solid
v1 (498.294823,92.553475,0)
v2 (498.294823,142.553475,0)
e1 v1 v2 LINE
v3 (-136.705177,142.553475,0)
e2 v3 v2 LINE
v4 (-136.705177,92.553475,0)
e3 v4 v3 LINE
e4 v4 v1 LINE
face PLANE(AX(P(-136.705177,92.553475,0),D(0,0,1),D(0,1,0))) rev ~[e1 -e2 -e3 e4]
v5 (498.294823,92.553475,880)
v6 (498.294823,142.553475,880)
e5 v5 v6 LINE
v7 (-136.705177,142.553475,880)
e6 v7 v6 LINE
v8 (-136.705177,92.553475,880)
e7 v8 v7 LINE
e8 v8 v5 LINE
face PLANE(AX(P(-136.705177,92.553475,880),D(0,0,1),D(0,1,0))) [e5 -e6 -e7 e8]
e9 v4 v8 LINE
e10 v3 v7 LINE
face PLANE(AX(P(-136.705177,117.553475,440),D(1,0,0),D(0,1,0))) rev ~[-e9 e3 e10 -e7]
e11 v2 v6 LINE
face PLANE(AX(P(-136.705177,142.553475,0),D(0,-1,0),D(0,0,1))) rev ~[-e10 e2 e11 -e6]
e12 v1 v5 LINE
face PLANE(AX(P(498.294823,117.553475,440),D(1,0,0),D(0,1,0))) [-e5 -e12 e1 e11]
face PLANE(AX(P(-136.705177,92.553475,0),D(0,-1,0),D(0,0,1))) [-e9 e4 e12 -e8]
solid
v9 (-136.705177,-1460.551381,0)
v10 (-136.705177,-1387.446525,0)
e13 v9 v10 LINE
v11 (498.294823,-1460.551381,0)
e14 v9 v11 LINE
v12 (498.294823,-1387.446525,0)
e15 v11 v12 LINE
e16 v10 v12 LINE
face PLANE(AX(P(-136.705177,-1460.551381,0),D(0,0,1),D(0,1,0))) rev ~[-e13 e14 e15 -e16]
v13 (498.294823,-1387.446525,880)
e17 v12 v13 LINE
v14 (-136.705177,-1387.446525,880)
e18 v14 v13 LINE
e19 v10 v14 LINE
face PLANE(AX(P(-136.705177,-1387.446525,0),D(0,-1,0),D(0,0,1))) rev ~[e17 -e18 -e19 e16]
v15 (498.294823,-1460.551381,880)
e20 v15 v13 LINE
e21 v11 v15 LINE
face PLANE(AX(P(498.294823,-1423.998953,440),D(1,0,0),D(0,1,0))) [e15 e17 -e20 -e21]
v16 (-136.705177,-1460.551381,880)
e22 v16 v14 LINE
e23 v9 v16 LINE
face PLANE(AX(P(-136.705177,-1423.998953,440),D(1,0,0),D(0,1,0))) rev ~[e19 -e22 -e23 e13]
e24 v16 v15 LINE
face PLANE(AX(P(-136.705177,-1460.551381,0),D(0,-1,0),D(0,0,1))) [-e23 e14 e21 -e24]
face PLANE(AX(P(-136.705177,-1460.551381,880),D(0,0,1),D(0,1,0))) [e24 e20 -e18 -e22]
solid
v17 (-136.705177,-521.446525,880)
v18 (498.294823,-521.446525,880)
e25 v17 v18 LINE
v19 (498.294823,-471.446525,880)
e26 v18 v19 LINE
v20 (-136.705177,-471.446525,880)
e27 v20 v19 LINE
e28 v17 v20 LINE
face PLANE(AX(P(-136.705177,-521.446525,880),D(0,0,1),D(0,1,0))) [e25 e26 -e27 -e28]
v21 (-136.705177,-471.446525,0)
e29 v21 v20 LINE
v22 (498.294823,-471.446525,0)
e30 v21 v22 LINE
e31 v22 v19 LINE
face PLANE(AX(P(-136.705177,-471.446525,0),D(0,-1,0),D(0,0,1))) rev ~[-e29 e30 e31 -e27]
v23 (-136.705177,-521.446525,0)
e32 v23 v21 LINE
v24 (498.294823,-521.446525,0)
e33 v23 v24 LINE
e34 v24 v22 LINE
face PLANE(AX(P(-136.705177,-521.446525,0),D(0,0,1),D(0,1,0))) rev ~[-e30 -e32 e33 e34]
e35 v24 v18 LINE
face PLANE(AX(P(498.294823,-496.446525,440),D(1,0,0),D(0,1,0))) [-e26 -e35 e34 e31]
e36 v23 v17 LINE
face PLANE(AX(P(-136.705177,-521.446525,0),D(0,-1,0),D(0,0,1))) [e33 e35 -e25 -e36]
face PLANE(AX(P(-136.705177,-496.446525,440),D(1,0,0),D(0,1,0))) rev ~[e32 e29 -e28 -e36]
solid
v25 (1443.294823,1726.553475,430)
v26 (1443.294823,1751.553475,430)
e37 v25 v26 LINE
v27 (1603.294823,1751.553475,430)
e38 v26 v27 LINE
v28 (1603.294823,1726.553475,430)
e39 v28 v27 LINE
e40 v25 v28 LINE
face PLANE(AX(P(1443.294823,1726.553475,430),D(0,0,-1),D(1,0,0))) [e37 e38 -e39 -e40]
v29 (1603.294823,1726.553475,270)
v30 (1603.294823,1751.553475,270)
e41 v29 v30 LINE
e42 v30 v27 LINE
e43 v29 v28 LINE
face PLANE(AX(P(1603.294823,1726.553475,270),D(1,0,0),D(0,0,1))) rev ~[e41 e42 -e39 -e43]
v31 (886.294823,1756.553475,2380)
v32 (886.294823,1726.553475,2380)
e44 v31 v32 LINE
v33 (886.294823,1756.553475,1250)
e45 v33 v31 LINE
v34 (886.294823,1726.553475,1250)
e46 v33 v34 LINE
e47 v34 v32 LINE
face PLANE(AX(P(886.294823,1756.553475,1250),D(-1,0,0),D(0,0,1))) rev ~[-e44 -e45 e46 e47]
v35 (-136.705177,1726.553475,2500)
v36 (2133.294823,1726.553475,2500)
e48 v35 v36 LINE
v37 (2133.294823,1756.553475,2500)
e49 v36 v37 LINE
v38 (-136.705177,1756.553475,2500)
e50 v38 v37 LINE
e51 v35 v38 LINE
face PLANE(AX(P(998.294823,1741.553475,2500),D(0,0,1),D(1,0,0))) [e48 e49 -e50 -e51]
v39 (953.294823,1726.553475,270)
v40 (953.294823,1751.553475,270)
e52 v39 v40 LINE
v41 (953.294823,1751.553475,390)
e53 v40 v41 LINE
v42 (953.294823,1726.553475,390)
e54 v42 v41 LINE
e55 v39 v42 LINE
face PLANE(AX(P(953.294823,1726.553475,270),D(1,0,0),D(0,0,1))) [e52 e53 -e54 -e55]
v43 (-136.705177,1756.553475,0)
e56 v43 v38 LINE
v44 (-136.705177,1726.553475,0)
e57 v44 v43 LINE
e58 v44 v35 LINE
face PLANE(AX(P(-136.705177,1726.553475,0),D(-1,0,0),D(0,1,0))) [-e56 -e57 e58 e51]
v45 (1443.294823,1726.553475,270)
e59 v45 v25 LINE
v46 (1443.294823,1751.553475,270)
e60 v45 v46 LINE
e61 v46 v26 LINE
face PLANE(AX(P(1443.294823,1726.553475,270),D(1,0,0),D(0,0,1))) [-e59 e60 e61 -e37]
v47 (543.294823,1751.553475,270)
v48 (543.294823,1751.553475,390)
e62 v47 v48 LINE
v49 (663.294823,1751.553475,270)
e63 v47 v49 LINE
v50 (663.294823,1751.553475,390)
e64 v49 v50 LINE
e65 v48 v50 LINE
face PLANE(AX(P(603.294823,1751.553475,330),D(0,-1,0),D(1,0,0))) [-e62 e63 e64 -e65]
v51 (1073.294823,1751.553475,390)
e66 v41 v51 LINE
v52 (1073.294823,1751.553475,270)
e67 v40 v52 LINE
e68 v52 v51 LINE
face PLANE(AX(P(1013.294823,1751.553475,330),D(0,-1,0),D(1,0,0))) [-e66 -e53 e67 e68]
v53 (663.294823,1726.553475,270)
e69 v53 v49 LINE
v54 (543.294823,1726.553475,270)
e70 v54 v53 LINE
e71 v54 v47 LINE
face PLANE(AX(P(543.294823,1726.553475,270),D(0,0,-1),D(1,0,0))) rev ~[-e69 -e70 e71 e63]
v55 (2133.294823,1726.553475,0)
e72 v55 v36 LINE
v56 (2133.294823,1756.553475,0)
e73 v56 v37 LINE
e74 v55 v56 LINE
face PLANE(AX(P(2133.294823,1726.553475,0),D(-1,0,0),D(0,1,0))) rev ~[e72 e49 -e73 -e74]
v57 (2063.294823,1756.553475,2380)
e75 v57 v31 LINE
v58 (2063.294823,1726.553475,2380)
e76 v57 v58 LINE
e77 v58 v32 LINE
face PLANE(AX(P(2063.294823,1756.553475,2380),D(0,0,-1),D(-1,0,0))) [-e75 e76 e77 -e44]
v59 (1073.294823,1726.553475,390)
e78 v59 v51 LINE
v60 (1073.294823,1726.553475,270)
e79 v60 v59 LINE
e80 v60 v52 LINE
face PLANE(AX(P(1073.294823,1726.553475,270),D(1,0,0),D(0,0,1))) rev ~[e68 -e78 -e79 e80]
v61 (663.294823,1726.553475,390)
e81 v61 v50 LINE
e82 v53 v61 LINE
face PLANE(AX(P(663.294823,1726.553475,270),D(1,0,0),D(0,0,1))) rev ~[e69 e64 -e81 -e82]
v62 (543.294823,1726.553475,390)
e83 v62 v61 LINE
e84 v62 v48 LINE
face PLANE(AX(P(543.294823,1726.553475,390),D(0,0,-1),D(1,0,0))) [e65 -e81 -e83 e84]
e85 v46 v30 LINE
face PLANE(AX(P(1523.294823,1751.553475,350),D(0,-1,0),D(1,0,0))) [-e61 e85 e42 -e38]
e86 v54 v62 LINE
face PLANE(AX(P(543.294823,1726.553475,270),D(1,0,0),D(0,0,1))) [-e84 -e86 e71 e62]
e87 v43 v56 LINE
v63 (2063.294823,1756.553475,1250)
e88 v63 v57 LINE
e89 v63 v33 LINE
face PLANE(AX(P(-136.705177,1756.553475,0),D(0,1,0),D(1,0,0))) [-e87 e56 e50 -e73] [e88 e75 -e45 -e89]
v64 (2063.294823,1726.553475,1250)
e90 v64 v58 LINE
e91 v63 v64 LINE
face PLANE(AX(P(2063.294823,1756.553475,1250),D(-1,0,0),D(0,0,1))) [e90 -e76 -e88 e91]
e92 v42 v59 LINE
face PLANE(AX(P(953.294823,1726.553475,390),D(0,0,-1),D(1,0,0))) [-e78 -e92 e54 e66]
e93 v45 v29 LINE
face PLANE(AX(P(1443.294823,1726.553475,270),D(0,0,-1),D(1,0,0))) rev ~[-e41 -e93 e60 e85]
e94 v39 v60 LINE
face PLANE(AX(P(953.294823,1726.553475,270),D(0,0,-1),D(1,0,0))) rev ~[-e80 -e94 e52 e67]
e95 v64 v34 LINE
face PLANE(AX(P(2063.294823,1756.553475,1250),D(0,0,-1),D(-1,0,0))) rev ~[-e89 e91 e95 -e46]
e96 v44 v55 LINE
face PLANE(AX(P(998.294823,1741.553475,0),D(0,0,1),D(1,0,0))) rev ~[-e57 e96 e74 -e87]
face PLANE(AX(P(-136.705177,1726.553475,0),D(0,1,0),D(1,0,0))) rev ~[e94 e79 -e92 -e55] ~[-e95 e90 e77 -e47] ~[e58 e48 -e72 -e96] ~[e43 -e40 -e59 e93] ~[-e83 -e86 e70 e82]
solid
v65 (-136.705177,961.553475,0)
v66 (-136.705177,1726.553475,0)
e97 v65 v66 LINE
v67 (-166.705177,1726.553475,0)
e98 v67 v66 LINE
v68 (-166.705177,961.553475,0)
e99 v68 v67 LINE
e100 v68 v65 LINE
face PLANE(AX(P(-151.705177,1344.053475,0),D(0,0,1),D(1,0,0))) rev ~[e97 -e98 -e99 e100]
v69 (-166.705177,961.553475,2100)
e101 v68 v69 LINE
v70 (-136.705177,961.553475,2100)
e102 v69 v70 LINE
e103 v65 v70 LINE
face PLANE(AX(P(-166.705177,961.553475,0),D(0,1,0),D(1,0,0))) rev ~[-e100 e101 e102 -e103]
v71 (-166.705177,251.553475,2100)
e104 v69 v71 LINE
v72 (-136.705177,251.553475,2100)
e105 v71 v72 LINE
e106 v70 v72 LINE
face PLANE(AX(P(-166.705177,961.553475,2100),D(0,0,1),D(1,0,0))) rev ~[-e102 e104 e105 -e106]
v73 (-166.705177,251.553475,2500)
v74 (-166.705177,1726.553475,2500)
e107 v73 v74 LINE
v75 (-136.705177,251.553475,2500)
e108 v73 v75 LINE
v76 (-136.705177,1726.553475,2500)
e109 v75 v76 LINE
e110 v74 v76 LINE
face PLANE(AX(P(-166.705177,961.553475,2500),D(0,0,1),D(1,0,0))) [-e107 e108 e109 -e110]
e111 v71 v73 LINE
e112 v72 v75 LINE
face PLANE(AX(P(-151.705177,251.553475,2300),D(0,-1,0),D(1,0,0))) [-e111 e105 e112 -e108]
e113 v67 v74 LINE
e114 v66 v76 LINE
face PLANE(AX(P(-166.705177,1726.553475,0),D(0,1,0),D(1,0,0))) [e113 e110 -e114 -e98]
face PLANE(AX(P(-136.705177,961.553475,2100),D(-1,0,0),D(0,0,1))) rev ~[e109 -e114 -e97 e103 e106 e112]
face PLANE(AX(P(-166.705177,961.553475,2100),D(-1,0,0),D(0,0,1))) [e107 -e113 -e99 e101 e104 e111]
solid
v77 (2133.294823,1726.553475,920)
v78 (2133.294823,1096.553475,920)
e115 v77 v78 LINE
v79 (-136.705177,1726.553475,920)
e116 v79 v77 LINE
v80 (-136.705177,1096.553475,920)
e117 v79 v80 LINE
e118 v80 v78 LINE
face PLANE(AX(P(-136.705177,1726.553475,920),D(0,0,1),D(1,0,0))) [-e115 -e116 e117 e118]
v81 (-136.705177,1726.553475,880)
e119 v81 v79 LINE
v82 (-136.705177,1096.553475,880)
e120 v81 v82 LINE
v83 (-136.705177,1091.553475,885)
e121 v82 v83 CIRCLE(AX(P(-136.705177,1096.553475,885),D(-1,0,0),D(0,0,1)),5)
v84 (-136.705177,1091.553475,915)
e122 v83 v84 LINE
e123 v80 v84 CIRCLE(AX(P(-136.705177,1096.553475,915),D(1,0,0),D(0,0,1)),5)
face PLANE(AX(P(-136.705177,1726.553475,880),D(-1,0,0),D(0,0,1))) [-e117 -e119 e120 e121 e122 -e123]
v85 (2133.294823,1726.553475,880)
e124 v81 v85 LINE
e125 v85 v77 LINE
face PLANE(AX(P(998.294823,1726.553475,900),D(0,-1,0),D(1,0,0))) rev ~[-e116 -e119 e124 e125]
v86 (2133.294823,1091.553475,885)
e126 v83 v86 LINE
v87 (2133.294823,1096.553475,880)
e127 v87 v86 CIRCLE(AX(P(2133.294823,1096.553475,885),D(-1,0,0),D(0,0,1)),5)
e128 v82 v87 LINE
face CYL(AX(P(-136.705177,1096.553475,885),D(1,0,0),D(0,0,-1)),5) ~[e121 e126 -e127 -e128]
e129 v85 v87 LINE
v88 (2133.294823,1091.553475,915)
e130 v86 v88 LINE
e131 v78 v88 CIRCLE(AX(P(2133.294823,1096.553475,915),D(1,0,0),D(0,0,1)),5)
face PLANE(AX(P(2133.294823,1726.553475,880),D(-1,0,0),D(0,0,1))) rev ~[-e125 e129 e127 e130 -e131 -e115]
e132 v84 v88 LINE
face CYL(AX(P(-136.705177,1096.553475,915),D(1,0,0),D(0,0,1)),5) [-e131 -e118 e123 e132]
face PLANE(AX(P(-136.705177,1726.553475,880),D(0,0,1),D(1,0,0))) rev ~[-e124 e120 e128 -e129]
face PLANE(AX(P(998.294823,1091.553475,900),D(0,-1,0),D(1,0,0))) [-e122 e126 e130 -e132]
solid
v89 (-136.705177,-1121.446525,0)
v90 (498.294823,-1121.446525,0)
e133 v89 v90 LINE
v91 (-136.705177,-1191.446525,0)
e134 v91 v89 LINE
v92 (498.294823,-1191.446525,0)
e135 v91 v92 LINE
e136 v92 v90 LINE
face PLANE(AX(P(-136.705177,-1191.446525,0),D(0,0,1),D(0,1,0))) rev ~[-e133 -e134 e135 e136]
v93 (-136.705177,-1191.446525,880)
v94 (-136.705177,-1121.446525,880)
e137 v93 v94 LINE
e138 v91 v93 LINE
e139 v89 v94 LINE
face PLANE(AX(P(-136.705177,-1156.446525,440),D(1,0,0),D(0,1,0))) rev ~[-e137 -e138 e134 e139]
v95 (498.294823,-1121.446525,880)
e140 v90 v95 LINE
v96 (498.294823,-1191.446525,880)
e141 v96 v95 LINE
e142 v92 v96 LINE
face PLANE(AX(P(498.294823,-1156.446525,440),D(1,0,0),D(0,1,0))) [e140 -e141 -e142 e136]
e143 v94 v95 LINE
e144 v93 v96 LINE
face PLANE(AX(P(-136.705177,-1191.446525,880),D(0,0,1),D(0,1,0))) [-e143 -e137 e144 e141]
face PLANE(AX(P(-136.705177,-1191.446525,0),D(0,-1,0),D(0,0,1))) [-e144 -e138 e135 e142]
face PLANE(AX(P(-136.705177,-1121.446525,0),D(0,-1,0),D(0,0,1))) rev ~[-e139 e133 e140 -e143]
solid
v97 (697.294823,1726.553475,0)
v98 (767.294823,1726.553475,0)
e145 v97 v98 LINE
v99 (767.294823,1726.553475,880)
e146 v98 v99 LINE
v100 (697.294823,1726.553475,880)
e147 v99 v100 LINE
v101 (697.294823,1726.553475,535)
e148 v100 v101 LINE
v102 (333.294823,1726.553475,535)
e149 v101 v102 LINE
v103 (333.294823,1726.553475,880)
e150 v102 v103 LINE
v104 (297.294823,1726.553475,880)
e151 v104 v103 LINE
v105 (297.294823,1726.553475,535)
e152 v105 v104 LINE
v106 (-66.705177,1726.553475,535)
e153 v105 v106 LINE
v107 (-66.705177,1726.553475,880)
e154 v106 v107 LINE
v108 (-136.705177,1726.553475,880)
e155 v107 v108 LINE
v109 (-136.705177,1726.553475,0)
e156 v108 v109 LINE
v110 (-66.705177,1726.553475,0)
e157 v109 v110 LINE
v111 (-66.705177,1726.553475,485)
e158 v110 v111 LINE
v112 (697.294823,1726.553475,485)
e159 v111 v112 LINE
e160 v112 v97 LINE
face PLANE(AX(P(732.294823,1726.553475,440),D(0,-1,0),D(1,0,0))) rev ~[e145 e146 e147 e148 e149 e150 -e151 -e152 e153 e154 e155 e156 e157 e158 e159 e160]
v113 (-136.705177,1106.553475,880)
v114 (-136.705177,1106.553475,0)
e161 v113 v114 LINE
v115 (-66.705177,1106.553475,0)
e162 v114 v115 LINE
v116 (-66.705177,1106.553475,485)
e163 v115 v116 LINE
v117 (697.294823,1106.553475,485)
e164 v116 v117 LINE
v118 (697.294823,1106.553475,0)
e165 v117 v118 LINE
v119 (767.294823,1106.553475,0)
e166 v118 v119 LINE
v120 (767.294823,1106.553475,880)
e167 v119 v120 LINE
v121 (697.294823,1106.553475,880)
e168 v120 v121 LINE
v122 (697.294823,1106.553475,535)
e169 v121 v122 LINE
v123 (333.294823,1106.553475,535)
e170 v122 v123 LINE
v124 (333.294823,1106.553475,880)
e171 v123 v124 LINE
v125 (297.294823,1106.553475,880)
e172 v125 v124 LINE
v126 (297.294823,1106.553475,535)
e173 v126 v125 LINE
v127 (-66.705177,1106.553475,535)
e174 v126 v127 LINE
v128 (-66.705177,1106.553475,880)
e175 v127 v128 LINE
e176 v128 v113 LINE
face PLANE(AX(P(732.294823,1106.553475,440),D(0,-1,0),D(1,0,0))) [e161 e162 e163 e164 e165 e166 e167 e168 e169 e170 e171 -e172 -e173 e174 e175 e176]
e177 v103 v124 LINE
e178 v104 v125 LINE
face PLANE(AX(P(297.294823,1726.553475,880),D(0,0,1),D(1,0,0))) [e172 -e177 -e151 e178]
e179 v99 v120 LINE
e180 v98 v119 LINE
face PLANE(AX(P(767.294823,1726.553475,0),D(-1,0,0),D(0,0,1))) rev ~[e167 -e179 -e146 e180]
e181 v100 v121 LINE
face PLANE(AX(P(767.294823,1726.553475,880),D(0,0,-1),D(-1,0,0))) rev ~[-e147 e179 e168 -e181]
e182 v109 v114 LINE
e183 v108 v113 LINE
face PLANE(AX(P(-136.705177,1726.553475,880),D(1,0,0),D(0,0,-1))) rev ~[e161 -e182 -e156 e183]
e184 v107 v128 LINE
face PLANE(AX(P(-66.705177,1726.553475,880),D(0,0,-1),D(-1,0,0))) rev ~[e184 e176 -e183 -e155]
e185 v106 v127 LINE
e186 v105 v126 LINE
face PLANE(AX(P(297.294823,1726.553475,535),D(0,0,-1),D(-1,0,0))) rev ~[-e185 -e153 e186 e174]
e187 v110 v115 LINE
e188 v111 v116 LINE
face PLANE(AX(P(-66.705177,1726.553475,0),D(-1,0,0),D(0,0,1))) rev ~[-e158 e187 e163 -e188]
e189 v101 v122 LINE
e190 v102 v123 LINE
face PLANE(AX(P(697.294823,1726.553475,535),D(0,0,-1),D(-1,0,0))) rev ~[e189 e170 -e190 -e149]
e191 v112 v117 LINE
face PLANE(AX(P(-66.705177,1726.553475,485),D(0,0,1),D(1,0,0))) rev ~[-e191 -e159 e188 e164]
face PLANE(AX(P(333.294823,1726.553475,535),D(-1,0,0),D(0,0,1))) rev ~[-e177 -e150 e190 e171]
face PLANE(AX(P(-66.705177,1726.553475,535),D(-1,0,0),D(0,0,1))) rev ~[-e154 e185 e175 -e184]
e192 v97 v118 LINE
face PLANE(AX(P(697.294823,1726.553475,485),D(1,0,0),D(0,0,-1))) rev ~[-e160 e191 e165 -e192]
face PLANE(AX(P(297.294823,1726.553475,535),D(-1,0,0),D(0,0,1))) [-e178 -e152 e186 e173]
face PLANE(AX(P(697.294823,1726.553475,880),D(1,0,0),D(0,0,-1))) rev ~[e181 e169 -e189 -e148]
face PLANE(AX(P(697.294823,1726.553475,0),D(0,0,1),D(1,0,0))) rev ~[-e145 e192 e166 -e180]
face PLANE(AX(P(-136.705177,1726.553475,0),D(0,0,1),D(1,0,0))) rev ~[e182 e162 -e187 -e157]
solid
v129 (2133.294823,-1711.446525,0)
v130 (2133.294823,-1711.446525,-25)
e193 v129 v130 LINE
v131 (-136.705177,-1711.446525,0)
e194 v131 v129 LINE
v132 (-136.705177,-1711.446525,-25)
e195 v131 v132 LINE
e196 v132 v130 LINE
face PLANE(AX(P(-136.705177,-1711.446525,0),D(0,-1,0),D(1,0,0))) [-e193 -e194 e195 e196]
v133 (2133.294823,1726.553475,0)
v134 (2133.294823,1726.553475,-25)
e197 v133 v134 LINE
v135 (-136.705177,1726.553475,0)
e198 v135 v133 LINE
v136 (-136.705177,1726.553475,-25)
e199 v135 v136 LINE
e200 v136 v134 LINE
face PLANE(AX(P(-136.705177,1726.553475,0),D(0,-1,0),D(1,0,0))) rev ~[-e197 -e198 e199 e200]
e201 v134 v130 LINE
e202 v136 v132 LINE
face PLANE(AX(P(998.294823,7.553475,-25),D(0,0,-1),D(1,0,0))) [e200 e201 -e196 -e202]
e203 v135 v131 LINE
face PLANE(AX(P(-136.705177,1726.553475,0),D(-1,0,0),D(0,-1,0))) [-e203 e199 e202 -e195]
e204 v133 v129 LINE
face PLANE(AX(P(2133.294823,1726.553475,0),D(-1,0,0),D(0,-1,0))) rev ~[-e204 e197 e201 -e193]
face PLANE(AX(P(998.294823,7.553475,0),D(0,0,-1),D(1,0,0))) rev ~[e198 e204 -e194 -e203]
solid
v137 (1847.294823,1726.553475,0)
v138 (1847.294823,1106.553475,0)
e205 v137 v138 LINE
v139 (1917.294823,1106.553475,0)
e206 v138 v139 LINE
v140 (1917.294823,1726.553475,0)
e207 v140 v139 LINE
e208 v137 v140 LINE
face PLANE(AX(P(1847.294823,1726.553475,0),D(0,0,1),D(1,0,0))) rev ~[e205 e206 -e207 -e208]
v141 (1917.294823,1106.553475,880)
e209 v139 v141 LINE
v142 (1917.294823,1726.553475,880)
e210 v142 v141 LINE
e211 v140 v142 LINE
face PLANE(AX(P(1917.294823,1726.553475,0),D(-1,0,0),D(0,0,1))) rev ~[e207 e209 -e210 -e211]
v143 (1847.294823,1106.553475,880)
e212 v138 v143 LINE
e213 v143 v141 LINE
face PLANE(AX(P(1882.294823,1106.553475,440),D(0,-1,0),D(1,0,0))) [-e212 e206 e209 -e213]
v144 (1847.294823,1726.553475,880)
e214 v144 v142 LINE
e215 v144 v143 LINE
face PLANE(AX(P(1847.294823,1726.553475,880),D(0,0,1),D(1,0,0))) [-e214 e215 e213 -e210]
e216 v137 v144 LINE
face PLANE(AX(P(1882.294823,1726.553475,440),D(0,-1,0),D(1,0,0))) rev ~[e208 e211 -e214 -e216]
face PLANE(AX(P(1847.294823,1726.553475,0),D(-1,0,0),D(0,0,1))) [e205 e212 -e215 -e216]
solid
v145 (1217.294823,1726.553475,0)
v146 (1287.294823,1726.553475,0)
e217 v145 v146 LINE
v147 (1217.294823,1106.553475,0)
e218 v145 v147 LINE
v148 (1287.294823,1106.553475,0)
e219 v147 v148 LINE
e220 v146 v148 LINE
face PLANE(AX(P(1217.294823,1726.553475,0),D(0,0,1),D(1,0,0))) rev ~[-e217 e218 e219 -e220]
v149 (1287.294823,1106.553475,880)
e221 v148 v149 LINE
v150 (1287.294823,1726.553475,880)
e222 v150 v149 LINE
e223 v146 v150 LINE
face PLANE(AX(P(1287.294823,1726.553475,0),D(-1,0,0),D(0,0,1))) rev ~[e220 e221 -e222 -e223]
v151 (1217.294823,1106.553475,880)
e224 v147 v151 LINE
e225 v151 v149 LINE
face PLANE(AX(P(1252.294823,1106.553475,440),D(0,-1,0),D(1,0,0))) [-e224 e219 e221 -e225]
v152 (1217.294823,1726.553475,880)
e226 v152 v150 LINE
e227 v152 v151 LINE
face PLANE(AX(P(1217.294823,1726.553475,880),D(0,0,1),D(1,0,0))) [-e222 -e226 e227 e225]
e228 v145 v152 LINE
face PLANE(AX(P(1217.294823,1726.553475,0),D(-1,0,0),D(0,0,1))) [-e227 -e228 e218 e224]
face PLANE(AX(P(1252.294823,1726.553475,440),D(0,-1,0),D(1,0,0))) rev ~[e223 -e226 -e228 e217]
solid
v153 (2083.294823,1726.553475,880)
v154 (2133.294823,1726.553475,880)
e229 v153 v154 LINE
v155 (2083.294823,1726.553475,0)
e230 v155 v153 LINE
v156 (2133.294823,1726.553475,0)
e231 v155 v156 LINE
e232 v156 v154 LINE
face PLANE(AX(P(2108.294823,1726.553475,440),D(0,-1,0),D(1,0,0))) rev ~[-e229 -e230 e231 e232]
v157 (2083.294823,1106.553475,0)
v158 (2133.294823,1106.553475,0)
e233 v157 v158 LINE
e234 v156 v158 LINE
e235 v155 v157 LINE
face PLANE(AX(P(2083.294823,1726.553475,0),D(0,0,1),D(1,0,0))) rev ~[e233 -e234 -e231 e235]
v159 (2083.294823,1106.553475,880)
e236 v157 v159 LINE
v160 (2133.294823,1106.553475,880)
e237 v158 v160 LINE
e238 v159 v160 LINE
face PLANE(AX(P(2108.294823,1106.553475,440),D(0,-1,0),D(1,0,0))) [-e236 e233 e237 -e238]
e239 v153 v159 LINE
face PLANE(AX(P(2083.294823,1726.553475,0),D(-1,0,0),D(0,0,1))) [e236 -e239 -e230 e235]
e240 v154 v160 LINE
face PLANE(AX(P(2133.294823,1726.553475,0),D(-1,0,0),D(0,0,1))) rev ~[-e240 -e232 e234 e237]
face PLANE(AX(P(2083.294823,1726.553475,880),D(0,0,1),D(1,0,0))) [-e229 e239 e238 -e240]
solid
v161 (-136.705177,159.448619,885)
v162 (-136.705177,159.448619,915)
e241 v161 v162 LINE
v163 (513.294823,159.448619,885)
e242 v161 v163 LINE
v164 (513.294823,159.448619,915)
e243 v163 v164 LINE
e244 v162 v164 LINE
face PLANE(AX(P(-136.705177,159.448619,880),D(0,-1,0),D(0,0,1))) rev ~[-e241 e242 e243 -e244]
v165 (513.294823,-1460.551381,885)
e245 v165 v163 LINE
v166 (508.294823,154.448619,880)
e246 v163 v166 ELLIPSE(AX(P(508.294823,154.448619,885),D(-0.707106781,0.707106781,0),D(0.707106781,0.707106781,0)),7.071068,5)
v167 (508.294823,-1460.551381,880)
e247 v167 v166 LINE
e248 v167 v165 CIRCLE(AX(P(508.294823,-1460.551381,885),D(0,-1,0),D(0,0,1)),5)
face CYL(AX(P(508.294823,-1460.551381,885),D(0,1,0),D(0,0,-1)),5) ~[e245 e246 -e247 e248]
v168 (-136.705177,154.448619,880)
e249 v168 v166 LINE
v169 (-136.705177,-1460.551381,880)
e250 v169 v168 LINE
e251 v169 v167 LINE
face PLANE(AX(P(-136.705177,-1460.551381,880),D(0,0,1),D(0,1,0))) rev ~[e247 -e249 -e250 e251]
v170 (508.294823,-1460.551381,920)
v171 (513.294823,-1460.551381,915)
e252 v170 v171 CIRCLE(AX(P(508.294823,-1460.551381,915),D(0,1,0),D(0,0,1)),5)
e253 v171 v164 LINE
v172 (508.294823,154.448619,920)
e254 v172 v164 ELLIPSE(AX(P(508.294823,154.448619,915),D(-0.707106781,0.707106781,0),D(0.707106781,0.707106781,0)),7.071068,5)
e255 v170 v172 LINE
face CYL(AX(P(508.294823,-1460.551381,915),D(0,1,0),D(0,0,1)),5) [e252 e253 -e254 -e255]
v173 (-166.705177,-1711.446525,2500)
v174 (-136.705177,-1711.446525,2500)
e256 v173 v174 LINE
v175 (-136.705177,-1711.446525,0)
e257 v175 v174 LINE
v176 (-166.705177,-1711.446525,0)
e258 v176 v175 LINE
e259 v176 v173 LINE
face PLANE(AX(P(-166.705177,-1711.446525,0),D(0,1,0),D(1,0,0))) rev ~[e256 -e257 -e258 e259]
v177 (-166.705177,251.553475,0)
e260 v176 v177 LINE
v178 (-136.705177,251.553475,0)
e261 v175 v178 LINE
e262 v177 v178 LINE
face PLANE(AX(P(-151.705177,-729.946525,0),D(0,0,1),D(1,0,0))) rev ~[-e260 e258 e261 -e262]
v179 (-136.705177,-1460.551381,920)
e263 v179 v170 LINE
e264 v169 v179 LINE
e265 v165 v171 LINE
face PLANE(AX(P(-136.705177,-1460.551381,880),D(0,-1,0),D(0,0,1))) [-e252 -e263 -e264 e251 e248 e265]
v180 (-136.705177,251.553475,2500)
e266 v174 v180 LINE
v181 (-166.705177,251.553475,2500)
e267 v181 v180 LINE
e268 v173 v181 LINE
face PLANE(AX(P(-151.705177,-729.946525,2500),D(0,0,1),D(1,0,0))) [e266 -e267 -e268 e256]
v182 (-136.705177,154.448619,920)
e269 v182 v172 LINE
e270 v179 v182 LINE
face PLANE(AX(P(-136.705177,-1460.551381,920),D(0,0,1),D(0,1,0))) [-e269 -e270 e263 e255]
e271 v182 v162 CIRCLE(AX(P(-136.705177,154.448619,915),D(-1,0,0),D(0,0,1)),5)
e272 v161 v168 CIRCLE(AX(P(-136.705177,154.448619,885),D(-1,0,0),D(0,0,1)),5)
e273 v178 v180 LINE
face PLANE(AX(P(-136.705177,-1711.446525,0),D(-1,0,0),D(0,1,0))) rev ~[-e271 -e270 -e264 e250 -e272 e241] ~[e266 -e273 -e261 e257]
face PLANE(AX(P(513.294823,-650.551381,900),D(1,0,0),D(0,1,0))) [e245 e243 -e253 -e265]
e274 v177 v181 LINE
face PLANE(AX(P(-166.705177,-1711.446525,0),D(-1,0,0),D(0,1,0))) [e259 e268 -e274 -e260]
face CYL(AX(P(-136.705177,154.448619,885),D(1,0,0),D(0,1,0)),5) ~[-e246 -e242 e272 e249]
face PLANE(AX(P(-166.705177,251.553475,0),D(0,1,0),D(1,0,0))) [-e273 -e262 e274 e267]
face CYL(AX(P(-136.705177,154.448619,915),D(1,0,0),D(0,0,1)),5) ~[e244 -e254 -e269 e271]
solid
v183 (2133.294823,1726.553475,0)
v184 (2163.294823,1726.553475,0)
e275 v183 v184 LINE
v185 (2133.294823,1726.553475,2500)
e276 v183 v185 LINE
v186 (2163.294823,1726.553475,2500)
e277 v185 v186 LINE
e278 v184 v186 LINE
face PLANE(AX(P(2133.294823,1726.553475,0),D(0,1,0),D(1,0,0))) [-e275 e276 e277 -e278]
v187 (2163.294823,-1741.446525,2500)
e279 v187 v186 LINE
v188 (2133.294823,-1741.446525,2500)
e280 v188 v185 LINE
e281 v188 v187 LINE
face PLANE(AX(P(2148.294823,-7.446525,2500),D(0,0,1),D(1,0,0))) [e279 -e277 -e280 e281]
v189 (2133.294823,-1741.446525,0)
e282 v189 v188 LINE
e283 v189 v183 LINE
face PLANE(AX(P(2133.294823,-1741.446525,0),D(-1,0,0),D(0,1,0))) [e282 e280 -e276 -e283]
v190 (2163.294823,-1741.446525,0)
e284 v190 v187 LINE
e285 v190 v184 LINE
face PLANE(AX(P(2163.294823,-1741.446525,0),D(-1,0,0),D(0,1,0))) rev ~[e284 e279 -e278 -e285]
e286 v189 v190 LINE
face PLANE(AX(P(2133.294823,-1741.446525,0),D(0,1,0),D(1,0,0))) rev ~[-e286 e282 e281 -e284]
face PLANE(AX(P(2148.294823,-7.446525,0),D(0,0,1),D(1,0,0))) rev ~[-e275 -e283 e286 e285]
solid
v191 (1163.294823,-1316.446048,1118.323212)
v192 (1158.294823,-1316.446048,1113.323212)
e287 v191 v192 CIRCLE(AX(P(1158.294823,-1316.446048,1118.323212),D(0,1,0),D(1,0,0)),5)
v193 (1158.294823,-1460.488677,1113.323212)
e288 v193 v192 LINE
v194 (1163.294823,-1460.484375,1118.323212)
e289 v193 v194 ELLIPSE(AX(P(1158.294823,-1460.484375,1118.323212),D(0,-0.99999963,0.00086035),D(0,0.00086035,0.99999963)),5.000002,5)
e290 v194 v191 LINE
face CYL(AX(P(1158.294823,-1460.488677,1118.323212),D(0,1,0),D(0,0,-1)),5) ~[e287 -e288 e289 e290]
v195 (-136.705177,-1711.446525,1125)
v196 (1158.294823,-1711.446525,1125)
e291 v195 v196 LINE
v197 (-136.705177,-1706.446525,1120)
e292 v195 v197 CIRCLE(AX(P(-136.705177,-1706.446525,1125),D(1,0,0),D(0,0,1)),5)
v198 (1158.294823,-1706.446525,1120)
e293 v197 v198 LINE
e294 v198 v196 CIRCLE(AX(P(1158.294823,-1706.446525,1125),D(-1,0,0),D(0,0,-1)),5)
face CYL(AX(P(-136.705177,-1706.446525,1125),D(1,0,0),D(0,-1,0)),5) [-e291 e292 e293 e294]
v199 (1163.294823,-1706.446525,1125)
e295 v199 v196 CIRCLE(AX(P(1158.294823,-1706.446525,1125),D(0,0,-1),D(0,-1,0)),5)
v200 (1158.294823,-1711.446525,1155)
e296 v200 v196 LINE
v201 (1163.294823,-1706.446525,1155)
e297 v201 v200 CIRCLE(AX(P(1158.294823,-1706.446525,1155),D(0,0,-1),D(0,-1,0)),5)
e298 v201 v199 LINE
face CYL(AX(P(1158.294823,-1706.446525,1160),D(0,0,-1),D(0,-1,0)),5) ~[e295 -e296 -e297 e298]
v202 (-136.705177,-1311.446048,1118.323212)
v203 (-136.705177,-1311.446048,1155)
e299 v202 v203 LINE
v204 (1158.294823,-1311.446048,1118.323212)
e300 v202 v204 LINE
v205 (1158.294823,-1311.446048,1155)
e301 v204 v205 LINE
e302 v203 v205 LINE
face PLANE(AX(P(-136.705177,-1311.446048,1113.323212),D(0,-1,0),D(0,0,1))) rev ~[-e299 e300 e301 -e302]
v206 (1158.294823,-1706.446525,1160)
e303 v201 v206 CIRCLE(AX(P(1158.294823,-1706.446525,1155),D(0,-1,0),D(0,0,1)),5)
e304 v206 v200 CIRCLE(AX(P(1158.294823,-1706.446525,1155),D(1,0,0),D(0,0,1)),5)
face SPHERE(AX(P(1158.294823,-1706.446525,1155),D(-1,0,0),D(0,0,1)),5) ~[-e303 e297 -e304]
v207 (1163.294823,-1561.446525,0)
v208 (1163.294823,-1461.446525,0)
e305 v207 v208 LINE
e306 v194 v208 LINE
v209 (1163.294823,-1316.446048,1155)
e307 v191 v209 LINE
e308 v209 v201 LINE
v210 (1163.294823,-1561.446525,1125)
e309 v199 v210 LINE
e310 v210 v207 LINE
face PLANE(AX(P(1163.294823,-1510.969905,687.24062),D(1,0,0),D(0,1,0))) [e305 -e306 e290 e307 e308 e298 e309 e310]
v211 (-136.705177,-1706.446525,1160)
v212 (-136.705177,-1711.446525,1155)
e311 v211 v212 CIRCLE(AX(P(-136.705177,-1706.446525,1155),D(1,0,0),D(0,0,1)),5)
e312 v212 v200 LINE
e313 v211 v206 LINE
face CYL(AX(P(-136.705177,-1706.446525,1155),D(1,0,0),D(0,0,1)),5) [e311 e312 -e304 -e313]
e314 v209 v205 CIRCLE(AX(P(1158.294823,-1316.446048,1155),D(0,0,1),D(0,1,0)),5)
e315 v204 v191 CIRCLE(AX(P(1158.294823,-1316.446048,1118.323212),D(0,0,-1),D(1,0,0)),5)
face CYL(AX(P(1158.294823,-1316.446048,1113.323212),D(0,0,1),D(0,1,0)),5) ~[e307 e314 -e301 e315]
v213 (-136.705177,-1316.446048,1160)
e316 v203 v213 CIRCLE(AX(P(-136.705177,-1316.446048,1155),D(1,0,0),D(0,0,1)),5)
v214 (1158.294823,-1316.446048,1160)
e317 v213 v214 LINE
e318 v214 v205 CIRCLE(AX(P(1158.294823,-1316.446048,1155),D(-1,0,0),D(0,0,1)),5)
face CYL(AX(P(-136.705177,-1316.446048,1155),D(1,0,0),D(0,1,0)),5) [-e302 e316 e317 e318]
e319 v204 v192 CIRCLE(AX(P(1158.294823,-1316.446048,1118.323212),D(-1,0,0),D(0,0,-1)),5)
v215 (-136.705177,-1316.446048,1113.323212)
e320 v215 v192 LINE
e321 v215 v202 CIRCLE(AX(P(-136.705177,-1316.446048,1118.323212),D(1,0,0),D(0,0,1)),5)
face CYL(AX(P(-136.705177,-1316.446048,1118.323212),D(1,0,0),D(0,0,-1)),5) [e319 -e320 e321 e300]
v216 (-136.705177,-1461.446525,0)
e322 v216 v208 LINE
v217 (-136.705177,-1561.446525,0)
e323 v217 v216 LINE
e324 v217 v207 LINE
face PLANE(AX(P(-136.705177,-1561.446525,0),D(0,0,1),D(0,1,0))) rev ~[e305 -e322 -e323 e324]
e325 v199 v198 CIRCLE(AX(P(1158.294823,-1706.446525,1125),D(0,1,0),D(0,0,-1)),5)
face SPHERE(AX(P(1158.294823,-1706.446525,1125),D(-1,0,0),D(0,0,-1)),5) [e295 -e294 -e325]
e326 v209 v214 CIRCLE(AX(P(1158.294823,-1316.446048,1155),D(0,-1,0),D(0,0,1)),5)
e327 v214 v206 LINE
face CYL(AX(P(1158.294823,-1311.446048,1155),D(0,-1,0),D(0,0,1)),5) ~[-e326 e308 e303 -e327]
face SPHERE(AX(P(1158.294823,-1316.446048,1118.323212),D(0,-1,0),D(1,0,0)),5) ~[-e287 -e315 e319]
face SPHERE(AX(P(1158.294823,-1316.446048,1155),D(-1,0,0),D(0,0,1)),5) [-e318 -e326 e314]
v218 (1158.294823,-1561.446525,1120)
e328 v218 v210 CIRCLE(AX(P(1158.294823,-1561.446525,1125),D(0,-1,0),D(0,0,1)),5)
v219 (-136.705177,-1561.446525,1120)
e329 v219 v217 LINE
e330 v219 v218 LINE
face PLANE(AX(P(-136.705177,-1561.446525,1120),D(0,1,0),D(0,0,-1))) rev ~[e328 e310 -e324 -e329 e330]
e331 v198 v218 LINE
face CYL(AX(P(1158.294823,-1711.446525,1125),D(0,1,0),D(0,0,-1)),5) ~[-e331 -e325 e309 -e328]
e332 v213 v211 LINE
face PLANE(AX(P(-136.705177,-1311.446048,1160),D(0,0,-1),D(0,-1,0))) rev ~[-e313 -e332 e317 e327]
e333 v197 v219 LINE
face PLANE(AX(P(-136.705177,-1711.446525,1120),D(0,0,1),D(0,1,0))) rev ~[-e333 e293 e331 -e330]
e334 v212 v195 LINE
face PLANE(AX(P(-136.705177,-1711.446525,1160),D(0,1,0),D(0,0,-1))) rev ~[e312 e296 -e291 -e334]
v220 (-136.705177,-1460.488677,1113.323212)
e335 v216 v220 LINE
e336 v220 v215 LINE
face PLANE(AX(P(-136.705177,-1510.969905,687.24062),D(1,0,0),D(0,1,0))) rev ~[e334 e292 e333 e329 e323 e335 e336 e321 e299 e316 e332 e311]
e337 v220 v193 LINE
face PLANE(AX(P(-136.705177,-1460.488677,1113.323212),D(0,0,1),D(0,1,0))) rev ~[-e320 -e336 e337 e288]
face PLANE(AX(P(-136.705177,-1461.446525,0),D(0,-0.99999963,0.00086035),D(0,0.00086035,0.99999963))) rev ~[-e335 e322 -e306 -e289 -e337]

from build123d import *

# Parameters (mm, degrees)
F0_W      = 2270
F0_H      = 30
F1_DEPTH  = 2500
F0_W_2    = 30
F0_H_2    = 3468
F0_H_3    = 765
F0_H_4    = 1963
F2_W      = 2270
F2_H      = 3438
F3_DEPTH  = 25
F4_W      = 2270
F4_H      = 40
F5_DEPTH  = 635
F7_DEPTH  = 1300
F6_W      = 1620
F6_H      = 40
F8_DEPTH  = 650
F9_W      = 1177
F9_H      = 1130
F10_DEPTH = 3498.001
F11_W     = 30
F11_H     = 400
F12_DEPTH = 710
F13_W     = 70
F13_H     = 880
F14_DEPTH = 635
F13_W_2   = 73.1048560888
F13_W_3   = 50
F15_R     = 5
F16_R     = 5
F17_R     = 5
F18_W     = 50
F18_H     = 880
F19_DEPTH = 620
F18_W_2   = 70
F18_W_3   = 36
F18_H_2   = 345
F4_W_2    = 160
F4_H_2    = 160
F4_W_3    = 120
F4_H_3    = 120
F20_DEPTH = 25


with BuildPart() as f1:
    # F0 (on Top) → F1 (new body)
    with BuildSketch(Plane.XY):
        with Locations((998.2948233199, 1741.5534749776)):
            Rectangle(F0_W, F0_H)
    extrude(amount=F1_DEPTH)

    # F9 (on face) → F10 (cut, through all)
    with BuildSketch(Plane(origin=(0, 1756.5534749776, 0), x_dir=(-1, 0, 0), z_dir=(0, 1, 0))):
        with Locations((-1474.7948233199, 1815)):
            Rectangle(F9_W, F9_H)
    extrude(amount=-F10_DEPTH, mode=Mode.SUBTRACT)

    # F4 (on face) → F20 (cut)
    with BuildSketch(Plane.XZ.offset(-1726.5534749776)):
        with Locations((1523.2948233199, 350)):
            Rectangle(F4_W_2, F4_H_2)
        with Locations((1013.2948233199, 330)):
            Rectangle(F4_W_3, F4_H_3)
        with Locations((603.2948233199, 330)):
            Rectangle(F4_W_3, F4_H_3)
    extrude(amount=-F20_DEPTH, mode=Mode.SUBTRACT)


with BuildPart() as f1b:
    # F0 (on Top) → F1, piece 2 (new body)
    with BuildSketch(Plane.XY):
        with Locations((2148.2948233199, -7.4465250224)):
            Rectangle(F0_W_2, F0_H_2)
    extrude(amount=F1_DEPTH)


with BuildPart() as f1c:
    # F0 (on Top) → F1, piece 3 (new body)
    with BuildSketch(Plane.XY):
        with Locations((-151.7051766801, 1344.0534749776)):
            Rectangle(F0_W_2, F0_H_3)
    extrude(amount=F1_DEPTH)

    # F11 (on face) → F12 (join)
    with BuildSketch(Plane.XZ.offset(-961.5534749776)):
        with Locations((-151.7051766801, 2300)):
            Rectangle(F11_W, F11_H)
    extrude(amount=F12_DEPTH)


with BuildPart() as f1d:
    # F0 (on Top) → F1, piece 4 (new body)
    with BuildSketch(Plane.XY):
        with Locations((-151.7051766801, -729.9465250224)):
            Rectangle(F0_W_2, F0_H_4)
    extrude(amount=F1_DEPTH)

    # F6 (on face) → F8 (join)
    with BuildSketch(Plane.YZ.offset(-136.7051766801)):
        with Locations((-650.5513811111, 900)):
            Rectangle(F6_W, F6_H)
    extrude(amount=F8_DEPTH)

    # F15
    f15_edges = [f1d.edges().sort_by_distance(p)[0] for p in [
        (188.294823, 159.448619, 920),
        (513.294823, -650.551381, 920),
        (188.294823, 159.448619, 880),
        (513.294823, -650.551381, 880),
    ]]
    fillet(f15_edges, radius=F15_R)


with BuildPart() as f3:
    # F2 (on face) → F3 (new body)
    with BuildSketch(Plane(origin=(0, 0, 0), x_dir=(1, 0, 0), z_dir=(0, 0, -1))):
        with Locations((998.2948233199, -7.5534749776)):
            Rectangle(F2_W, F2_H)
    extrude(amount=F3_DEPTH)


with BuildPart() as f5:
    # F4 (on face) → F5 (new body)
    with BuildSketch(Plane.XZ.offset(-1726.5534749776)):
        with Locations((998.2948233199, 900)):
            Rectangle(F4_W, F4_H)
    extrude(amount=F5_DEPTH)

    # F17
    f17_edges = [f5.edges().sort_by_distance(p)[0] for p in [
        (998.294823, 1091.553475, 920),
        (998.294823, 1091.553475, 880),
    ]]
    fillet(f17_edges, radius=F17_R)


with BuildPart() as f7:
    # F6 (on face) → F7 (new body)
    with BuildSketch(Plane.YZ.offset(-136.7051766801)):
        Polygon((-1461.4465250224, 0), (-1460.689416728, 880), (-1460.4886770248, 1113.3232116699), (-1311.446047813, 1113.3232116699), (-1311.446047813, 1160), (-1511.4465250224, 1160), (-1711.4465250224, 1160), (-1711.4465250224, 1120), (-1561.4465250224, 1120), (-1561.4465250224, 0), align=None)
    extrude(amount=F7_DEPTH)

    # F16
    f16_edges = [f7.edges().sort_by_distance(p)[0] for p in [
        (513.294823, -1711.446525, 1160),
        (513.294823, -1311.446048, 1160),
        (1163.294823, -1511.446286, 1160),
        (513.294823, -1711.446525, 1120),
        (1163.294823, -1636.446525, 1120),
        (1163.294823, -1385.967362, 1113.323212),
        (1163.294823, -1711.446525, 1140),
        (1163.294823, -1311.446048, 1136.661606),
        (513.294823, -1311.446048, 1113.323212),
    ]]
    fillet(f16_edges, radius=F16_R)


with BuildPart() as f14:
    # F13 (on face) → F14 (new body)
    with BuildSketch(Plane.YZ.offset(-136.7051766801)):
        with Locations((-1156.4465250224, 440)):
            Rectangle(F13_W, F13_H)
    extrude(amount=F14_DEPTH)


with BuildPart() as f14b:
    # F13 (on face) → F14, piece 2 (new body)
    with BuildSketch(Plane.YZ.offset(-136.7051766801)):
        with Locations((-1423.9989530668, 440)):
            Rectangle(F13_W_2, F13_H)
    extrude(amount=F14_DEPTH)


with BuildPart() as f14c:
    # F13 (on face) → F14, piece 3 (new body)
    with BuildSketch(Plane.YZ.offset(-136.7051766801)):
        with Locations((-496.4465250224, 440)):
            Rectangle(F13_W_3, F13_H)
    extrude(amount=F14_DEPTH)


with BuildPart() as f14d:
    # F13 (on face) → F14, piece 4 (new body)
    with BuildSketch(Plane.YZ.offset(-136.7051766801)):
        with Locations((117.5534749776, 440)):
            Rectangle(F13_W_3, F13_H)
    extrude(amount=F14_DEPTH)


with BuildPart() as f19:
    # F18 (on face) → F19 (new body)
    with BuildSketch(Plane.XZ.offset(-1726.5534749776)):
        with Locations((2108.2948233199, 440)):
            Rectangle(F18_W, F18_H)
    extrude(amount=F19_DEPTH)


with BuildPart() as f19b:
    # F18 (on face) → F19, piece 2 (new body)
    with BuildSketch(Plane.XZ.offset(-1726.5534749776)):
        with Locations((1252.2948233199, 440)):
            Rectangle(F18_W_2, F18_H)
    extrude(amount=F19_DEPTH)


with BuildPart() as f19c:
    # F18 (on face) → F19, piece 3 (new body)
    with BuildSketch(Plane.XZ.offset(-1726.5534749776)):
        Polygon((767.2948233199, 880), (697.2948233199, 880), (697.2948233199, 535), (697.2948233199, 485), (697.2948233199, 0), (767.2948233199, 0), align=None)
        Polygon((697.2948233199, 485), (697.2948233199, 535), (333.2948233199, 535), (297.2948233199, 535), (-66.7051766801, 535), (-66.7051766801, 485), align=None)
        with Locations((315.2948233199, 707.5)):
            Rectangle(F18_W_3, F18_H_2)
        Polygon((-66.7051766801, 470), (-66.7051766801, 485), (-66.7051766801, 535), (-66.7051766801, 880), (-136.7051766801, 880), (-136.7051766801, 0), (-66.7051766801, 0), align=None)
    extrude(amount=F19_DEPTH)


with BuildPart() as f19d:
    # F18 (on face) → F19, piece 4 (new body)
    with BuildSketch(Plane.XZ.offset(-1726.5534749776)):
        with Locations((1882.2948233199, 440)):
            Rectangle(F18_W_2, F18_H)
    extrude(amount=F19_DEPTH)


solid = Compound([f1.part, f1b.part, f1c.part, f1d.part, f3.part, f5.part, f7.part, f14.part, f14b.part, f14c.part, f14d.part, f19.part, f19b.part, f19c.part, f19d.part])
